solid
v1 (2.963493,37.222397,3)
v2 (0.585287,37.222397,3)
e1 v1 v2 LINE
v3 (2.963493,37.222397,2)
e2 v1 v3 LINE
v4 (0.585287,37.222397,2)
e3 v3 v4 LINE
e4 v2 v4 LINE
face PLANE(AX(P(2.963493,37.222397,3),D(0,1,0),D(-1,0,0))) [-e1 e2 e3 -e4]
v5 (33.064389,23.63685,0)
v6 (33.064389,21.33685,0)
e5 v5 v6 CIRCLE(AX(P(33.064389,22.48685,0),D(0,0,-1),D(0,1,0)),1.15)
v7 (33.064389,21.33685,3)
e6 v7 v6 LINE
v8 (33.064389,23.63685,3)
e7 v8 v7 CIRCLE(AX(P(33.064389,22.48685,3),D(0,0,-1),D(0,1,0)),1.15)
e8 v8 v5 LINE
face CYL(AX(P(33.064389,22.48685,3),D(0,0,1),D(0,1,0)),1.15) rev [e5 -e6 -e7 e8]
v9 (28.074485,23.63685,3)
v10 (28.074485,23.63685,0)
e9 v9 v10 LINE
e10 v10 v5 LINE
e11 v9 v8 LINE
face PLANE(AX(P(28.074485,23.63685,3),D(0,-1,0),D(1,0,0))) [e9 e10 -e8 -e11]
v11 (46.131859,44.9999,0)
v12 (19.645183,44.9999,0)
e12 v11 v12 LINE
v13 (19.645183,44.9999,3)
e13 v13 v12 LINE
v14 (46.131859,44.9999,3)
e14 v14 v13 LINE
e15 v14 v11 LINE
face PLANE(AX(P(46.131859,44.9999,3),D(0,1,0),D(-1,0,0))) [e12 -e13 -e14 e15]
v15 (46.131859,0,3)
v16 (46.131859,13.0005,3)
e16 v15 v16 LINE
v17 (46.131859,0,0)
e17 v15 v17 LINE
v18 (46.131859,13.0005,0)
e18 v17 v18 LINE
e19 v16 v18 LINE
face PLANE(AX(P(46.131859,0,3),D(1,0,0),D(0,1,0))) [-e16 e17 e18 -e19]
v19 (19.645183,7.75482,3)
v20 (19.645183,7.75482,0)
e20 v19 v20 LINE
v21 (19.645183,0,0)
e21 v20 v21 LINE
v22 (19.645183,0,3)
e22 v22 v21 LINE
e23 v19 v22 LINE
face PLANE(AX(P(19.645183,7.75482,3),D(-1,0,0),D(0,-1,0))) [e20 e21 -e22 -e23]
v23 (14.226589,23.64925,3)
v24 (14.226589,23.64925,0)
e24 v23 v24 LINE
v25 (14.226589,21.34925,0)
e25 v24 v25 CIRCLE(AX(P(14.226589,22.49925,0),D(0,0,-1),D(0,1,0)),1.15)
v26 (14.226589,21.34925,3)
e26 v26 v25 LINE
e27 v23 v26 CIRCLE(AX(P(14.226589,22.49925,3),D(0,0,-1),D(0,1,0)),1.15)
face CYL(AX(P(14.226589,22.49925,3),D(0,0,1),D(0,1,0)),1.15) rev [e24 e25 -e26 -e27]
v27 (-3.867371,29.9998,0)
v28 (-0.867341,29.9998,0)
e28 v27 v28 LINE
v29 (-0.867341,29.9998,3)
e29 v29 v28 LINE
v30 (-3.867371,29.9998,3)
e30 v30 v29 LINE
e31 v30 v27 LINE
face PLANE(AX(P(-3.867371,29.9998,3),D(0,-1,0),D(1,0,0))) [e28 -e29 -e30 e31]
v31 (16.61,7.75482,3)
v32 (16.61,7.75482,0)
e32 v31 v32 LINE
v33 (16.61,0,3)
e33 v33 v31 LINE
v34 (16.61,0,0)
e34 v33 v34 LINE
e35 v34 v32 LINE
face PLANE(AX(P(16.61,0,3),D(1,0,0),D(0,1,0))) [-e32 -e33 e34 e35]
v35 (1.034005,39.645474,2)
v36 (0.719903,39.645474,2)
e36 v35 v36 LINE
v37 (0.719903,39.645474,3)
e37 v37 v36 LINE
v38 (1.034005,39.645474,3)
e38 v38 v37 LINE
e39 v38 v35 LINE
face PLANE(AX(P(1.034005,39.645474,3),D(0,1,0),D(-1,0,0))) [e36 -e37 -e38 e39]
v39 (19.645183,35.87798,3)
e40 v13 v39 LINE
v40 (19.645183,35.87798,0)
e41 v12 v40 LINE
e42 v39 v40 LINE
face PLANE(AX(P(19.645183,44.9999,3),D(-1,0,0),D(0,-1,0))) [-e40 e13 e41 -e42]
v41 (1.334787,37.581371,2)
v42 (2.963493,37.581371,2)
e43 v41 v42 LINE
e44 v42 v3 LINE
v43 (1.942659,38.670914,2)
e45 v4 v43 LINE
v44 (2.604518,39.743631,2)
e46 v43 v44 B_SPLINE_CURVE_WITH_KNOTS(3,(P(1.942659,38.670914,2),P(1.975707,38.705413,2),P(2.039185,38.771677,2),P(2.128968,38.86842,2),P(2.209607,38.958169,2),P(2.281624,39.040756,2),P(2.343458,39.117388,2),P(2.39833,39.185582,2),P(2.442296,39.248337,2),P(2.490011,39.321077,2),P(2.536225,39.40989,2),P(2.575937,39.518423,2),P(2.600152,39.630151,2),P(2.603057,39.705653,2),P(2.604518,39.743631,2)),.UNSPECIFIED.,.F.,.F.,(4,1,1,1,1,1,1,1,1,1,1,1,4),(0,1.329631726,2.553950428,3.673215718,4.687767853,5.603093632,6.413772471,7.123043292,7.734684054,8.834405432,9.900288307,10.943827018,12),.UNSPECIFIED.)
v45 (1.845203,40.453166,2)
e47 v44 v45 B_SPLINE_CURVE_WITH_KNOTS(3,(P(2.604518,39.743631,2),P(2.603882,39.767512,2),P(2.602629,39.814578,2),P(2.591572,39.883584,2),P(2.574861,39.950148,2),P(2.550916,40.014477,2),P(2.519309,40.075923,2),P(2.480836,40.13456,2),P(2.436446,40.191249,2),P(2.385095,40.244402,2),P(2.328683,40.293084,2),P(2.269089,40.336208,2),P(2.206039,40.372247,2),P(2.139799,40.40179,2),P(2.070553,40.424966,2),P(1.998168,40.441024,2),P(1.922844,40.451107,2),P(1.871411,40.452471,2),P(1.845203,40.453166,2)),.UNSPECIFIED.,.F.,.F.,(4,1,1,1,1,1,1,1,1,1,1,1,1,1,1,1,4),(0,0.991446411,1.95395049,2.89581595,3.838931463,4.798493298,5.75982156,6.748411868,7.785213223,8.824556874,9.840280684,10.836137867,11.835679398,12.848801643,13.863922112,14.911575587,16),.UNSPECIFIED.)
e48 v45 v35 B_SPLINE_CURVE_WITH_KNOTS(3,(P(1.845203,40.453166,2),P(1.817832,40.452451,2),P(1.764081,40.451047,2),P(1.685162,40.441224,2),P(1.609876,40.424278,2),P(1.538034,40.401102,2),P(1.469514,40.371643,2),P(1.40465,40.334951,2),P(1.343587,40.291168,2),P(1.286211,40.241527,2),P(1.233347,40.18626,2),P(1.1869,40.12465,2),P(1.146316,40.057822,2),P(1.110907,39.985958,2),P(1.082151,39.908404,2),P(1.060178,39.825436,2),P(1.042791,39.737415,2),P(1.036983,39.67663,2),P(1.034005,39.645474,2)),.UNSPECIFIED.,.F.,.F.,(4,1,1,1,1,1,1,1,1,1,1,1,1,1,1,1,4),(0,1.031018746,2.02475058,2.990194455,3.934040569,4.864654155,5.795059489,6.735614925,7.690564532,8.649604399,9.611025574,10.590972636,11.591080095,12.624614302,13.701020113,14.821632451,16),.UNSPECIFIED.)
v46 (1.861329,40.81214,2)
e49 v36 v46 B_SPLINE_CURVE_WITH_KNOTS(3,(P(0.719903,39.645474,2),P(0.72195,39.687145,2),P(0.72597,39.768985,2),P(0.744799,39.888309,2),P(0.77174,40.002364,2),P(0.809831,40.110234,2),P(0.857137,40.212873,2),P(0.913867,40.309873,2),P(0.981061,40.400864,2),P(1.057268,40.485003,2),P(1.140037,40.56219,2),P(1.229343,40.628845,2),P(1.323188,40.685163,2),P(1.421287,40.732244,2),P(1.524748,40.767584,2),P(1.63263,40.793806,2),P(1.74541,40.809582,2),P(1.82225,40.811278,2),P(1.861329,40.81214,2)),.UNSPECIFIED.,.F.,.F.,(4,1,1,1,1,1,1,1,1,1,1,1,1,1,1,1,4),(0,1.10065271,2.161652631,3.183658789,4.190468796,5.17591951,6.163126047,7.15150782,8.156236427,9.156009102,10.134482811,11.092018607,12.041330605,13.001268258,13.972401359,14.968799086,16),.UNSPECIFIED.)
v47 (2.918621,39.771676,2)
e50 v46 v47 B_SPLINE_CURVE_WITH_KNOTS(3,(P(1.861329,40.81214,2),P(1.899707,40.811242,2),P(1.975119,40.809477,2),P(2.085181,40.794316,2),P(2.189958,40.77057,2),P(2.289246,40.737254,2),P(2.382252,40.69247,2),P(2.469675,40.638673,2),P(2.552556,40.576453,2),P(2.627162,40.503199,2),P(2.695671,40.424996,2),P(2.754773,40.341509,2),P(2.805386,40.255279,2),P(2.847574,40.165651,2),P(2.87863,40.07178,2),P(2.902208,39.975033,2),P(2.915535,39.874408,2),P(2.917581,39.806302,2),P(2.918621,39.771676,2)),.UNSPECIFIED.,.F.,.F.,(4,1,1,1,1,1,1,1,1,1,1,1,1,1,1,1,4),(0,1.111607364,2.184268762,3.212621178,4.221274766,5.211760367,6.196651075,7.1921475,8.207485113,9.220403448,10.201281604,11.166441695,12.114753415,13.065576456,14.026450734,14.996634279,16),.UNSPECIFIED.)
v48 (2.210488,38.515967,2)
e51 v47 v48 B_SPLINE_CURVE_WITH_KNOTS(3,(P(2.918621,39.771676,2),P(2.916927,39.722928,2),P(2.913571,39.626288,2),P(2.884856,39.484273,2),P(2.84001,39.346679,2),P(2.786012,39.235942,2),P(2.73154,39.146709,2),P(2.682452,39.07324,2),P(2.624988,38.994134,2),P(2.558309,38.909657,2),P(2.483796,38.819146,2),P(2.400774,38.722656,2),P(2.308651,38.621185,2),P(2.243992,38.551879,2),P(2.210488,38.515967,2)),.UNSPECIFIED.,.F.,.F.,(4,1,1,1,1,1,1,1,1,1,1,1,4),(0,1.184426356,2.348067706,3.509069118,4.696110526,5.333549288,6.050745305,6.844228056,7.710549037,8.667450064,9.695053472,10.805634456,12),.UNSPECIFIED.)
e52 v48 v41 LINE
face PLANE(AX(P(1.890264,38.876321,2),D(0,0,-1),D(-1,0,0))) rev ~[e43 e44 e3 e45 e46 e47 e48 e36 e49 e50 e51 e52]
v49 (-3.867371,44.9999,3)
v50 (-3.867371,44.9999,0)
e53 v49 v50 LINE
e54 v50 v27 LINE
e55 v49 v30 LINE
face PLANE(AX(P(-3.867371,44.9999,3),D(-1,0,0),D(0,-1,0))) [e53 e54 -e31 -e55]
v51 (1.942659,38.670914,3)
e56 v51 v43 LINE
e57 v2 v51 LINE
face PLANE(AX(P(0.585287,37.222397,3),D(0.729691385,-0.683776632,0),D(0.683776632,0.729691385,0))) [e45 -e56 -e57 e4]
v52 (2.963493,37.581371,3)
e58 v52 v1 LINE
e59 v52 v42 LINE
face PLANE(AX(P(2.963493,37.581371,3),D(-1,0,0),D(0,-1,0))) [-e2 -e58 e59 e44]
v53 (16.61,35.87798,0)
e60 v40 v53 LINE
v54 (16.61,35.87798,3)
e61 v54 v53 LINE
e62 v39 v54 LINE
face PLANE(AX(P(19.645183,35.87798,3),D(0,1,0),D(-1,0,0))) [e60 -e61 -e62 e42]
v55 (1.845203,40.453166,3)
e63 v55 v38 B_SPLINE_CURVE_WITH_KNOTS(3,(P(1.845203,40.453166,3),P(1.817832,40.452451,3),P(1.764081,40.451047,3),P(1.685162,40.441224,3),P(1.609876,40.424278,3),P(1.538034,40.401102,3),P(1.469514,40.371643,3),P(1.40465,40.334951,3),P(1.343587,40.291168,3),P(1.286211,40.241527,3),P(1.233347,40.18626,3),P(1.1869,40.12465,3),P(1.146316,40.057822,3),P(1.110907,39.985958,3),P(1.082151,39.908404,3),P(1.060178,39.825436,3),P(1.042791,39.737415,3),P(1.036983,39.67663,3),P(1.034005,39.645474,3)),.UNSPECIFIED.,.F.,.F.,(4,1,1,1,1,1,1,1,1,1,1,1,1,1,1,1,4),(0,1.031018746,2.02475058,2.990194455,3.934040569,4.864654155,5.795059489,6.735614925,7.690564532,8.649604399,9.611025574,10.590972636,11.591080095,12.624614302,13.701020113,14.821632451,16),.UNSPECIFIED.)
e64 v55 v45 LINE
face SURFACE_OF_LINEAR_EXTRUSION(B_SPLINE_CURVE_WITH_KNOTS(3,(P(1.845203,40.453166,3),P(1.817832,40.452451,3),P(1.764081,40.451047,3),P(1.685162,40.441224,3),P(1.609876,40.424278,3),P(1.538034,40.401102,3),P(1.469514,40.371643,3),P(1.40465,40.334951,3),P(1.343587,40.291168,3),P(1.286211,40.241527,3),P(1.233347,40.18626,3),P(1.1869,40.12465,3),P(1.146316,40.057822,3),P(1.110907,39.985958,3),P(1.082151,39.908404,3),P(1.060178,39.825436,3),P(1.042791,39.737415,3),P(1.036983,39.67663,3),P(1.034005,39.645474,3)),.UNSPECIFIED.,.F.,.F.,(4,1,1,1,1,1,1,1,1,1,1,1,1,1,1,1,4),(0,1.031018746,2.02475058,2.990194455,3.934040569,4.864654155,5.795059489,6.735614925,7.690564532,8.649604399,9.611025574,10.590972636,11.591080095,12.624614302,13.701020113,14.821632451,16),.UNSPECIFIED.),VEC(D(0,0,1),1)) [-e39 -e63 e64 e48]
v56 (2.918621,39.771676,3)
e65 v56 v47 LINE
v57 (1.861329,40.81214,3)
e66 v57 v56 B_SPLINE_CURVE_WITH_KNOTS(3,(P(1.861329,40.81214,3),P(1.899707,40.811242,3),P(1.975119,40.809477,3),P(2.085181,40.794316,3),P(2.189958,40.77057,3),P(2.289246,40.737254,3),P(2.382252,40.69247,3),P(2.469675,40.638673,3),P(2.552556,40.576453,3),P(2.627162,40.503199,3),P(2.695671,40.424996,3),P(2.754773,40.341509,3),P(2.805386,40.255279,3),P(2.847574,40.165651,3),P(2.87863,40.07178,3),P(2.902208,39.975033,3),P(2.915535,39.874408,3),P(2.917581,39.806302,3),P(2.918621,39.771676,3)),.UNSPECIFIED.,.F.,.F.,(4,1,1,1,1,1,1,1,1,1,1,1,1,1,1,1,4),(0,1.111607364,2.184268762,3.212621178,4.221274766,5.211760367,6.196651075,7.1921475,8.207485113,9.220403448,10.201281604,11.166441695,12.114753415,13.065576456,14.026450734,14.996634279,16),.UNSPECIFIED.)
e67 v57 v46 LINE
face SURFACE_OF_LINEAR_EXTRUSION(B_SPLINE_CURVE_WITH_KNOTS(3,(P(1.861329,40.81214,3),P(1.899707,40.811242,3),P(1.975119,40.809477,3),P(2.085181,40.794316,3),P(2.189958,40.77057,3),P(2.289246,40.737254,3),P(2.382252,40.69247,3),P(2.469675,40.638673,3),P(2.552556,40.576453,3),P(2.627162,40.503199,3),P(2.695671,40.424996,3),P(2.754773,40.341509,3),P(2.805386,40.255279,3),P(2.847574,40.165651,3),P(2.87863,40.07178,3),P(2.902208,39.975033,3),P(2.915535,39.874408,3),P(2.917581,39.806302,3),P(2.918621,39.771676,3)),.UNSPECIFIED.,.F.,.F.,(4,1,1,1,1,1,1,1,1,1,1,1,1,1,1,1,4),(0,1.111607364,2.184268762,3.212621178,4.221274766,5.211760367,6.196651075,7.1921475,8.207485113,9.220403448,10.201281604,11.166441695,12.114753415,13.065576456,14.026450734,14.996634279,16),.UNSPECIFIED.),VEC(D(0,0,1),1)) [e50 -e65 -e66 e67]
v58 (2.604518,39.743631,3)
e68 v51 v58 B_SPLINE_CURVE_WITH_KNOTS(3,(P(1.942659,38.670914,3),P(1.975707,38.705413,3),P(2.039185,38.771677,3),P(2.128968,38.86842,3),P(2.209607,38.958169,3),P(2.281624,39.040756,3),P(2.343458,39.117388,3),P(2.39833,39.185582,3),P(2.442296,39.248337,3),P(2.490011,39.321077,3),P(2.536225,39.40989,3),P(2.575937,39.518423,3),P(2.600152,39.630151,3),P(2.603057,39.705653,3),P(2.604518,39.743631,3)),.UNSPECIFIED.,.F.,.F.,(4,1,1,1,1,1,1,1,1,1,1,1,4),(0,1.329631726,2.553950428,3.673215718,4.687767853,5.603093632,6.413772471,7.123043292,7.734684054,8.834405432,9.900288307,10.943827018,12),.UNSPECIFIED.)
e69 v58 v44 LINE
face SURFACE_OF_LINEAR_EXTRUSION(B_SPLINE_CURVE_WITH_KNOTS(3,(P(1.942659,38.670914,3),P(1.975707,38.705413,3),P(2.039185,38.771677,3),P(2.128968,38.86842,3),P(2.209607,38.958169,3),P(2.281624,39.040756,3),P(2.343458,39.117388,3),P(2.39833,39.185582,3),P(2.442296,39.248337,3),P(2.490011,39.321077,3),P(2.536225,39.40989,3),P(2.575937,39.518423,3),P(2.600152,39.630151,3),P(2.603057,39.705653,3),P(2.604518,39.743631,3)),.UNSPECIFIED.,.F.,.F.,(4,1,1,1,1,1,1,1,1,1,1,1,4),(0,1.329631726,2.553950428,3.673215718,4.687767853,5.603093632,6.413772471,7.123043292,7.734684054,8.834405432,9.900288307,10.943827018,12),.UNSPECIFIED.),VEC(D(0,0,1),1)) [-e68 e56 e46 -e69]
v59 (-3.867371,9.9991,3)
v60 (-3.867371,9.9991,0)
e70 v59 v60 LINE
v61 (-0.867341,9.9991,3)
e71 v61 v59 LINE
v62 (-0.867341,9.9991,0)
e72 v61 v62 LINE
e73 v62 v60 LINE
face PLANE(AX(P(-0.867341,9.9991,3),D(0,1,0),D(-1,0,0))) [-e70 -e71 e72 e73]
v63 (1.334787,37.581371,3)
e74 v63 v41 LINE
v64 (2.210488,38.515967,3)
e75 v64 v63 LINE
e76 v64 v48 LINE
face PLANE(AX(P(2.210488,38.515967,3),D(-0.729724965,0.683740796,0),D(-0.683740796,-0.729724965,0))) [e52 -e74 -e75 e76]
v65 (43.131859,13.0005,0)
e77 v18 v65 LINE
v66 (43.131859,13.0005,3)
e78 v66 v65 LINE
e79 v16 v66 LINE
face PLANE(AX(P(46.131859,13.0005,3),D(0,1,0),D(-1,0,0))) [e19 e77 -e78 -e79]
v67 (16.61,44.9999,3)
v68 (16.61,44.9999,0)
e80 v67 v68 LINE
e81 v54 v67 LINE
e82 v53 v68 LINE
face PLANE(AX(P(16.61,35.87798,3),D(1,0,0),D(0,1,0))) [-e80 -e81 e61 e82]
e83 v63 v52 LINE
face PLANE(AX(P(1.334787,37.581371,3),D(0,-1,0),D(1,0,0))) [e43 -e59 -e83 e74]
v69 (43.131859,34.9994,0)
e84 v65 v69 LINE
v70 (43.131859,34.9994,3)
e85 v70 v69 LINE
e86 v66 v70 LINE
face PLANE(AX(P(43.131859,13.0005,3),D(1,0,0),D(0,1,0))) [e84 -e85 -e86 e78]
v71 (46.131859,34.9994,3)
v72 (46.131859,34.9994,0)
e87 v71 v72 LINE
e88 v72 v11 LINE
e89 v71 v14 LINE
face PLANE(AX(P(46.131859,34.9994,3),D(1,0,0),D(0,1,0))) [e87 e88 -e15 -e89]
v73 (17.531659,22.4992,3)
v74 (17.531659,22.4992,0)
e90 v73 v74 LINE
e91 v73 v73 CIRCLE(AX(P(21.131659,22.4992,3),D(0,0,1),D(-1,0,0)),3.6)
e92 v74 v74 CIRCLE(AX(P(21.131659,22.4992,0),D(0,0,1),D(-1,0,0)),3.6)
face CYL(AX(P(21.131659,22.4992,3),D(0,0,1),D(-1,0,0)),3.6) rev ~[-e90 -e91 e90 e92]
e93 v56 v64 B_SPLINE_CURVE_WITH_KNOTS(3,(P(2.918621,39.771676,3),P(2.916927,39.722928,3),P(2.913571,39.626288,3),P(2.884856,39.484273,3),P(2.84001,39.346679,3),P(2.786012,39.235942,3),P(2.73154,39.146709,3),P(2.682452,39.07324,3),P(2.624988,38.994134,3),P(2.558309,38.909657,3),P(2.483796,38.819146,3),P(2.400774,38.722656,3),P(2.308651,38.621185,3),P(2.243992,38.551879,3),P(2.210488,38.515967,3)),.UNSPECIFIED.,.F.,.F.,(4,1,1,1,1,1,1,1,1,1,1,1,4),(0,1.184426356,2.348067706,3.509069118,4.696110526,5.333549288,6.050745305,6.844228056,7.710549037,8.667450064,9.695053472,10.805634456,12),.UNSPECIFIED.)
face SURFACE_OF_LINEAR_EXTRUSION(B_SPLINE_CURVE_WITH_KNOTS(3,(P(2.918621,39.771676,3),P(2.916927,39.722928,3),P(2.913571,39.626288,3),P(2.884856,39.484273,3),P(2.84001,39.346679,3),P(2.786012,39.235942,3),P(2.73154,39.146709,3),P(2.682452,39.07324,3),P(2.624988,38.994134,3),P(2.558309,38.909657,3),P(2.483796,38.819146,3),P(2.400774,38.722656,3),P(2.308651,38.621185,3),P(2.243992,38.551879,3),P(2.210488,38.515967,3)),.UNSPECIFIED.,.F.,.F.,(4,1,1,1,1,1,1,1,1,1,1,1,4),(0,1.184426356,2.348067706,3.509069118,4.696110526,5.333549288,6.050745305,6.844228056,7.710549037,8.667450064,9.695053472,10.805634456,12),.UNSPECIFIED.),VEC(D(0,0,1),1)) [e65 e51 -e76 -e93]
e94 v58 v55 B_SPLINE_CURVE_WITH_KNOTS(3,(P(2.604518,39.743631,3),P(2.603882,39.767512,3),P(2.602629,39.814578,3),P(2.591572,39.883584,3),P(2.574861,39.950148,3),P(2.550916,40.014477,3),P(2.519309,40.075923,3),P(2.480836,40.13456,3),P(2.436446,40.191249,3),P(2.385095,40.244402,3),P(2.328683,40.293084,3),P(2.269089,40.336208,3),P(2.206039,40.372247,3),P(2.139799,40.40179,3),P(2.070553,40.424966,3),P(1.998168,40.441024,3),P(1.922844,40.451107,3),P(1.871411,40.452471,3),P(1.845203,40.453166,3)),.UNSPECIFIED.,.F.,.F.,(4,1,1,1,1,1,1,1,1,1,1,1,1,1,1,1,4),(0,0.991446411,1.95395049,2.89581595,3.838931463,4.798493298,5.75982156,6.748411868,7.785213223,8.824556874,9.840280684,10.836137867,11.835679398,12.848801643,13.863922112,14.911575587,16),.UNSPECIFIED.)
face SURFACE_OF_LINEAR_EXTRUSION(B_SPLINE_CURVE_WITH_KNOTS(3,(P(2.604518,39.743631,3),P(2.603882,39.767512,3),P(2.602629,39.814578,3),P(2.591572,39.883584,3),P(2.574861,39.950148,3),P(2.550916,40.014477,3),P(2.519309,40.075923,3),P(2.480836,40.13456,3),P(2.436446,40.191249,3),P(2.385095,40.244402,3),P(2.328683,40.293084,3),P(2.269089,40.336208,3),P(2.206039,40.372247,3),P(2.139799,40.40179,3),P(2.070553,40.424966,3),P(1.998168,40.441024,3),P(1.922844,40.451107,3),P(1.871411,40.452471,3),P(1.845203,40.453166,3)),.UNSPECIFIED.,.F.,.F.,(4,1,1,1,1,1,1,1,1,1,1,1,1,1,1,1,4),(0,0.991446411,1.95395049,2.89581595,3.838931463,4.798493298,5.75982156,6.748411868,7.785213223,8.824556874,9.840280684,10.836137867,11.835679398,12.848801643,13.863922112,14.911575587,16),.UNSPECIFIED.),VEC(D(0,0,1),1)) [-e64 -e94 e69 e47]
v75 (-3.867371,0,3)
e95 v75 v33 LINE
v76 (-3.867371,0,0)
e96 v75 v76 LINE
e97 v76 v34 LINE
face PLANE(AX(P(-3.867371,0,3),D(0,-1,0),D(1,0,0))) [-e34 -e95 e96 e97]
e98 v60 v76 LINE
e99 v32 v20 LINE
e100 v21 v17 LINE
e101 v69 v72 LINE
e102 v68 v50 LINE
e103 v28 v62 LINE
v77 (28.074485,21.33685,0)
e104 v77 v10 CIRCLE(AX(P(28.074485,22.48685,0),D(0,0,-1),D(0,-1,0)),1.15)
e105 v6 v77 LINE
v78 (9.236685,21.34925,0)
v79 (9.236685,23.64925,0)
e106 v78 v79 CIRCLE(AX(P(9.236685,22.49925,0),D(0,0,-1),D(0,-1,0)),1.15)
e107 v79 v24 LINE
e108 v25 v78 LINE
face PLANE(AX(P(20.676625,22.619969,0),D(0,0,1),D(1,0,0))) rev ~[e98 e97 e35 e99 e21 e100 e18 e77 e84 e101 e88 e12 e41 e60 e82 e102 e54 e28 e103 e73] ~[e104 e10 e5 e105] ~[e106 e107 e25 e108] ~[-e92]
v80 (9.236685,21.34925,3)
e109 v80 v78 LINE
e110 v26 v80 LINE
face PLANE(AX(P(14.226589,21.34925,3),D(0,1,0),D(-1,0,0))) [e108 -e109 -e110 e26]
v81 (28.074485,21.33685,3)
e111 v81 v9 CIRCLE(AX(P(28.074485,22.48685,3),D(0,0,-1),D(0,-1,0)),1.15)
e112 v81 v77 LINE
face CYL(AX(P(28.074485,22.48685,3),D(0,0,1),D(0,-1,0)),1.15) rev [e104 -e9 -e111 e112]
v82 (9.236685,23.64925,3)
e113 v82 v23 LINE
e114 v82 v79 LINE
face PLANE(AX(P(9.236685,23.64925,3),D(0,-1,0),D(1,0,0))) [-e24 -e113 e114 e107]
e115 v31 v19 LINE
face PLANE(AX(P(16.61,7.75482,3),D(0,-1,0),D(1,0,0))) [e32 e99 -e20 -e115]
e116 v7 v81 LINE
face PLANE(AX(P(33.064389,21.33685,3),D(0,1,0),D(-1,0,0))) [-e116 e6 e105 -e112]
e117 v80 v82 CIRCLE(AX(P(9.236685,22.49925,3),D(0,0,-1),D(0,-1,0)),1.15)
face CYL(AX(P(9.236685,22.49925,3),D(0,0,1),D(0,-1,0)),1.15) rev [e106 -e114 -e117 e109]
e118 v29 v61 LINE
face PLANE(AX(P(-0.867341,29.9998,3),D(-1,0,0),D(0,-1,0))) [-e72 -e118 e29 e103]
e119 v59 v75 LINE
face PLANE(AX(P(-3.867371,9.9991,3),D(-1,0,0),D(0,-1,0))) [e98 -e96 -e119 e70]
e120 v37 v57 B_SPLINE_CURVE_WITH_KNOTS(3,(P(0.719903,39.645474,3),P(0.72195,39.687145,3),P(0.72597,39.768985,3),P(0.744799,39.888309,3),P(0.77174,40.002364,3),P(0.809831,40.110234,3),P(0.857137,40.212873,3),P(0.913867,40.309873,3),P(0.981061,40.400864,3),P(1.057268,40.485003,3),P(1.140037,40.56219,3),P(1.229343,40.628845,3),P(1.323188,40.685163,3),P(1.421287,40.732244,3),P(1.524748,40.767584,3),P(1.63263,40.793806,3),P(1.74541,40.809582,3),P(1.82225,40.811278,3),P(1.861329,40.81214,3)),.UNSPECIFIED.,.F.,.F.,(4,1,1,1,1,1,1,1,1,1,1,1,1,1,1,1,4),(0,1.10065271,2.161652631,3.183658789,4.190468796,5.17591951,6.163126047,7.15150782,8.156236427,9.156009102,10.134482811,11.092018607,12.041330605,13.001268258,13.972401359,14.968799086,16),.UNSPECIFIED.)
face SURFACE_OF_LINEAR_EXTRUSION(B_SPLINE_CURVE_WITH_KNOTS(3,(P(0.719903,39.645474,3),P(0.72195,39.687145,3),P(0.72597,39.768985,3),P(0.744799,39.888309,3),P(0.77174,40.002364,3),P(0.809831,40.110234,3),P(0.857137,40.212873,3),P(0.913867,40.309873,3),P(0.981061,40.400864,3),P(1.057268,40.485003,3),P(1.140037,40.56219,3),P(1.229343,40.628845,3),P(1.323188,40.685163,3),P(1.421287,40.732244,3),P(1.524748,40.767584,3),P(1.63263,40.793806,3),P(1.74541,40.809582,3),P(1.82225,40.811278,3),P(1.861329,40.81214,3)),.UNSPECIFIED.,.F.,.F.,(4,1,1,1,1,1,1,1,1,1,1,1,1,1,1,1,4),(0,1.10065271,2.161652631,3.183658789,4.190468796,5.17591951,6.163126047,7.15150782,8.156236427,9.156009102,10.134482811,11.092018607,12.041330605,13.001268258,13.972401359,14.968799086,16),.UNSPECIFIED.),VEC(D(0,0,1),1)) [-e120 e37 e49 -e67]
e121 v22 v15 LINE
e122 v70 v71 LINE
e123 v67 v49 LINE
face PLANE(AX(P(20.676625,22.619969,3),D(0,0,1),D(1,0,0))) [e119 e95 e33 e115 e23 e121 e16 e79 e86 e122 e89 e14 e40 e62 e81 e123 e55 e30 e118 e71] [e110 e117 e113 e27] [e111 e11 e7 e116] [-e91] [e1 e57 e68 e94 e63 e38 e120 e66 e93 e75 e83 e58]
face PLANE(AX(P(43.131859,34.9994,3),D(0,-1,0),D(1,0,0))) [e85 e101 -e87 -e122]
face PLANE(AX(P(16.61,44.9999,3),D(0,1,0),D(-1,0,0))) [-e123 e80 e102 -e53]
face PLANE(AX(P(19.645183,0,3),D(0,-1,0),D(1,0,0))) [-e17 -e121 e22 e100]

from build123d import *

# Parameters (mm, degrees)
SKETCH_1_R          = 3.6
EXTRUDE_1_DEPTH     = 3
CUT_EXTRUDE_2_DEPTH = 1


with BuildPart() as part:
    # 草图1 → 凸台-拉伸1 (new body)
    with BuildSketch(Plane.XY.offset(3)):
        Polygon((46.131858504, 44.9999), (19.645182907, 44.9999), (19.645182907, 35.877980345), (16.61, 35.877980345), (16.61, 44.9999), (-3.867371496, 44.9999), (-3.867371496, 29.9998), (-0.867341496, 29.9998), (-0.867341496, 9.9991), (-3.867371496, 9.9991), (-3.867371496, 0), (16.61, 0), (16.61, 7.754820329), (19.645182907, 7.754820329), (19.645182907, 0), (46.131858504, 0), (46.131858504, 13.0005), (43.131858504, 13.0005), (43.131858504, 34.9994), (46.131858504, 34.9994), align=None)
        with Locations(Location((21.131658504, 22.4992, 0), (0, 0, 180))):
            Circle(SKETCH_1_R, mode=Mode.SUBTRACT)
        with BuildLine():
            Line((9.236684618, 23.64925), (14.226589495, 23.64925))
            ThreePointArc((14.226589495, 23.64925), (15.376589495, 22.49925), (14.226589495, 21.34925))
            Line((14.226589495, 21.34925), (9.236684618, 21.34925))
            ThreePointArc((9.236684618, 21.34925), (8.086684618, 22.49925), (9.236684618, 23.64925))
        make_face(mode=Mode.SUBTRACT)
        with BuildLine():
            Line((33.064389495, 21.33685), (28.074484618, 21.33685))
            ThreePointArc((28.074484618, 21.33685), (26.924484618, 22.48685), (28.074484618, 23.63685))
            Line((28.074484618, 23.63685), (33.064389495, 23.63685))
            ThreePointArc((33.064389495, 23.63685), (34.214389495, 22.48685), (33.064389495, 21.33685))
        make_face(mode=Mode.SUBTRACT)
    extrude(amount=-EXTRUDE_1_DEPTH)

    # 草图3 → 切除-拉伸2 (cut)
    with BuildSketch(Plane.XY.offset(3)):
        with BuildLine():
            Line((1.034005341, 39.645473757), (0.719902777, 39.645473757))
            add(Edge.make_bspline(
                [(0.719902777, 39.645473757), (0.72194993, 39.687144645), (0.725970484, 39.768985159), (0.744798774, 39.888309066), (0.771739651, 40.002363865), (0.809831105, 40.110233779), (0.857137383, 40.212872586), (0.91386741, 40.309872601), (0.98106126, 40.40086379), (1.057267995, 40.485002633), (1.140036634, 40.562190204), (1.229342573, 40.628845447), (1.3231876, 40.685163118), (1.421286999, 40.73224436), (1.524747563, 40.767584206), (1.632630421, 40.793805846), (1.745409557, 40.809582191), (1.822249579, 40.811277977), (1.861329059, 40.812140424)],
                knots=[0, 0, 0, 0, 1.10065271, 2.161652631, 3.183658789, 4.190468796, 5.17591951, 6.163126047, 7.15150782, 8.156236427, 9.156009102, 10.134482811, 11.092018607, 12.041330605, 13.001268258, 13.972401359, 14.968799086, 16, 16, 16, 16], degree=3))
            add(Edge.make_bspline(
                [(1.861329059, 40.812140424), (1.899707133, 40.811241967), (1.975118678, 40.809476532), (2.085180693, 40.794315503), (2.189957987, 40.770569912), (2.289245754, 40.737254495), (2.382251818, 40.692470068), (2.469674863, 40.638672529), (2.552555673, 40.576452698), (2.627162457, 40.503198884), (2.695670536, 40.4249965), (2.754772791, 40.341508596), (2.805385955, 40.255279311), (2.847573635, 40.165651109), (2.878629774, 40.071780081), (2.902207982, 39.975032878), (2.915535395, 39.874408067), (2.917580819, 39.806301511), (2.918620726, 39.77167568)],
                knots=[0, 0, 0, 0, 1.111607364, 2.184268762, 3.212621178, 4.221274766, 5.211760367, 6.196651075, 7.1921475, 8.207485113, 9.220403448, 10.201281604, 11.166441695, 12.114753415, 13.065576456, 14.026450734, 14.996634279, 16, 16, 16, 16], degree=3))
            add(Edge.make_bspline(
                [(2.918620726, 39.77167568), (2.916927463, 39.722927846), (2.913570652, 39.626287632), (2.884856275, 39.484272769), (2.840009764, 39.34667935), (2.786012407, 39.235942048), (2.731539963, 39.146708554), (2.682452456, 39.073239849), (2.624987645, 38.994134381), (2.558309147, 38.909657044), (2.483796274, 38.819146138), (2.400774111, 38.722656343), (2.308650629, 38.621184573), (2.243992128, 38.551878972), (2.210487713, 38.515966546)],
                knots=[0, 0, 0, 0, 1.184426356, 2.348067706, 3.509069118, 4.696110526, 5.333549288, 6.050745305, 6.844228056, 7.710549037, 8.667450064, 9.695053472, 10.805634456, 12, 12, 12, 12], degree=3))
            Line((2.210487713, 38.515966546), (1.334786591, 37.581371193))
            Line((1.334786591, 37.581371193), (2.963492521, 37.581371193))
            Line((2.963492521, 37.581371193), (2.963492521, 37.222396834))
            Line((2.963492521, 37.222396834), (0.585287393, 37.222396834))
            Line((0.585287393, 37.222396834), (1.942659188, 38.670914462))
            add(Edge.make_bspline(
                [(1.942659188, 38.670914462), (1.975707074, 38.705412769), (2.039185301, 38.771676955), (2.128967878, 38.868419915), (2.209606867, 38.958169456), (2.281624259, 39.040756005), (2.343457765, 39.117387572), (2.398329997, 39.185582276), (2.442295588, 39.248336726), (2.490010983, 39.32107734), (2.536224965, 39.409889657), (2.575937321, 39.518423347), (2.600152169, 39.630150599), (2.603057005, 39.705652636), (2.604518162, 39.743630808)],
                knots=[0, 0, 0, 0, 1.329631726, 2.553950428, 3.673215718, 4.687767853, 5.603093632, 6.413772471, 7.123043292, 7.734684054, 8.834405432, 9.900288307, 10.943827018, 12, 12, 12, 12], degree=3))
            add(Edge.make_bspline(
                [(2.604518162, 39.743630808), (2.60388242, 39.767512207), (2.602629494, 39.814577857), (2.591571796, 39.883583616), (2.57486129, 39.95014843), (2.550916032, 40.014477049), (2.519309292, 40.075922701), (2.480835912, 40.134560181), (2.436445849, 40.191249147), (2.385094579, 40.244402445), (2.328683059, 40.29308365), (2.26908881, 40.336207736), (2.206038706, 40.372246846), (2.139798583, 40.401790343), (2.070553114, 40.424965725), (1.998168369, 40.441024304), (1.922844353, 40.451106788), (1.871410857, 40.45247096), (1.845203258, 40.453166065)],
                knots=[0, 0, 0, 0, 0.991446411, 1.95395049, 2.89581595, 3.838931463, 4.798493298, 5.75982156, 6.748411868, 7.785213223, 8.824556874, 9.840280684, 10.836137867, 11.835679398, 12.848801643, 13.863922112, 14.911575587, 16, 16, 16, 16], degree=3))
            add(Edge.make_bspline(
                [(1.845203258, 40.453166065), (1.817832425, 40.452451033), (1.764080629, 40.451046827), (1.685161596, 40.441224163), (1.609875819, 40.424278323), (1.538033916, 40.401101648), (1.46951433, 40.3716431), (1.404650286, 40.334951355), (1.343587397, 40.291167862), (1.286210873, 40.241527305), (1.233346894, 40.186259704), (1.186900018, 40.124649741), (1.146316004, 40.057822326), (1.110906771, 39.985957775), (1.082151081, 39.908403995), (1.06017793, 39.82543629), (1.042791083, 39.737414909), (1.036982563, 39.676629824), (1.034005341, 39.645473757)],
                knots=[0, 0, 0, 0, 1.031018746, 2.02475058, 2.990194455, 3.934040569, 4.864654155, 5.795059489, 6.735614925, 7.690564532, 8.649604399, 9.611025574, 10.590972636, 11.591080095, 12.624614302, 13.701020113, 14.821632451, 16, 16, 16, 16], degree=3))
        make_face()
    extrude(amount=-CUT_EXTRUDE_2_DEPTH, mode=Mode.SUBTRACT)


solid = part.part
